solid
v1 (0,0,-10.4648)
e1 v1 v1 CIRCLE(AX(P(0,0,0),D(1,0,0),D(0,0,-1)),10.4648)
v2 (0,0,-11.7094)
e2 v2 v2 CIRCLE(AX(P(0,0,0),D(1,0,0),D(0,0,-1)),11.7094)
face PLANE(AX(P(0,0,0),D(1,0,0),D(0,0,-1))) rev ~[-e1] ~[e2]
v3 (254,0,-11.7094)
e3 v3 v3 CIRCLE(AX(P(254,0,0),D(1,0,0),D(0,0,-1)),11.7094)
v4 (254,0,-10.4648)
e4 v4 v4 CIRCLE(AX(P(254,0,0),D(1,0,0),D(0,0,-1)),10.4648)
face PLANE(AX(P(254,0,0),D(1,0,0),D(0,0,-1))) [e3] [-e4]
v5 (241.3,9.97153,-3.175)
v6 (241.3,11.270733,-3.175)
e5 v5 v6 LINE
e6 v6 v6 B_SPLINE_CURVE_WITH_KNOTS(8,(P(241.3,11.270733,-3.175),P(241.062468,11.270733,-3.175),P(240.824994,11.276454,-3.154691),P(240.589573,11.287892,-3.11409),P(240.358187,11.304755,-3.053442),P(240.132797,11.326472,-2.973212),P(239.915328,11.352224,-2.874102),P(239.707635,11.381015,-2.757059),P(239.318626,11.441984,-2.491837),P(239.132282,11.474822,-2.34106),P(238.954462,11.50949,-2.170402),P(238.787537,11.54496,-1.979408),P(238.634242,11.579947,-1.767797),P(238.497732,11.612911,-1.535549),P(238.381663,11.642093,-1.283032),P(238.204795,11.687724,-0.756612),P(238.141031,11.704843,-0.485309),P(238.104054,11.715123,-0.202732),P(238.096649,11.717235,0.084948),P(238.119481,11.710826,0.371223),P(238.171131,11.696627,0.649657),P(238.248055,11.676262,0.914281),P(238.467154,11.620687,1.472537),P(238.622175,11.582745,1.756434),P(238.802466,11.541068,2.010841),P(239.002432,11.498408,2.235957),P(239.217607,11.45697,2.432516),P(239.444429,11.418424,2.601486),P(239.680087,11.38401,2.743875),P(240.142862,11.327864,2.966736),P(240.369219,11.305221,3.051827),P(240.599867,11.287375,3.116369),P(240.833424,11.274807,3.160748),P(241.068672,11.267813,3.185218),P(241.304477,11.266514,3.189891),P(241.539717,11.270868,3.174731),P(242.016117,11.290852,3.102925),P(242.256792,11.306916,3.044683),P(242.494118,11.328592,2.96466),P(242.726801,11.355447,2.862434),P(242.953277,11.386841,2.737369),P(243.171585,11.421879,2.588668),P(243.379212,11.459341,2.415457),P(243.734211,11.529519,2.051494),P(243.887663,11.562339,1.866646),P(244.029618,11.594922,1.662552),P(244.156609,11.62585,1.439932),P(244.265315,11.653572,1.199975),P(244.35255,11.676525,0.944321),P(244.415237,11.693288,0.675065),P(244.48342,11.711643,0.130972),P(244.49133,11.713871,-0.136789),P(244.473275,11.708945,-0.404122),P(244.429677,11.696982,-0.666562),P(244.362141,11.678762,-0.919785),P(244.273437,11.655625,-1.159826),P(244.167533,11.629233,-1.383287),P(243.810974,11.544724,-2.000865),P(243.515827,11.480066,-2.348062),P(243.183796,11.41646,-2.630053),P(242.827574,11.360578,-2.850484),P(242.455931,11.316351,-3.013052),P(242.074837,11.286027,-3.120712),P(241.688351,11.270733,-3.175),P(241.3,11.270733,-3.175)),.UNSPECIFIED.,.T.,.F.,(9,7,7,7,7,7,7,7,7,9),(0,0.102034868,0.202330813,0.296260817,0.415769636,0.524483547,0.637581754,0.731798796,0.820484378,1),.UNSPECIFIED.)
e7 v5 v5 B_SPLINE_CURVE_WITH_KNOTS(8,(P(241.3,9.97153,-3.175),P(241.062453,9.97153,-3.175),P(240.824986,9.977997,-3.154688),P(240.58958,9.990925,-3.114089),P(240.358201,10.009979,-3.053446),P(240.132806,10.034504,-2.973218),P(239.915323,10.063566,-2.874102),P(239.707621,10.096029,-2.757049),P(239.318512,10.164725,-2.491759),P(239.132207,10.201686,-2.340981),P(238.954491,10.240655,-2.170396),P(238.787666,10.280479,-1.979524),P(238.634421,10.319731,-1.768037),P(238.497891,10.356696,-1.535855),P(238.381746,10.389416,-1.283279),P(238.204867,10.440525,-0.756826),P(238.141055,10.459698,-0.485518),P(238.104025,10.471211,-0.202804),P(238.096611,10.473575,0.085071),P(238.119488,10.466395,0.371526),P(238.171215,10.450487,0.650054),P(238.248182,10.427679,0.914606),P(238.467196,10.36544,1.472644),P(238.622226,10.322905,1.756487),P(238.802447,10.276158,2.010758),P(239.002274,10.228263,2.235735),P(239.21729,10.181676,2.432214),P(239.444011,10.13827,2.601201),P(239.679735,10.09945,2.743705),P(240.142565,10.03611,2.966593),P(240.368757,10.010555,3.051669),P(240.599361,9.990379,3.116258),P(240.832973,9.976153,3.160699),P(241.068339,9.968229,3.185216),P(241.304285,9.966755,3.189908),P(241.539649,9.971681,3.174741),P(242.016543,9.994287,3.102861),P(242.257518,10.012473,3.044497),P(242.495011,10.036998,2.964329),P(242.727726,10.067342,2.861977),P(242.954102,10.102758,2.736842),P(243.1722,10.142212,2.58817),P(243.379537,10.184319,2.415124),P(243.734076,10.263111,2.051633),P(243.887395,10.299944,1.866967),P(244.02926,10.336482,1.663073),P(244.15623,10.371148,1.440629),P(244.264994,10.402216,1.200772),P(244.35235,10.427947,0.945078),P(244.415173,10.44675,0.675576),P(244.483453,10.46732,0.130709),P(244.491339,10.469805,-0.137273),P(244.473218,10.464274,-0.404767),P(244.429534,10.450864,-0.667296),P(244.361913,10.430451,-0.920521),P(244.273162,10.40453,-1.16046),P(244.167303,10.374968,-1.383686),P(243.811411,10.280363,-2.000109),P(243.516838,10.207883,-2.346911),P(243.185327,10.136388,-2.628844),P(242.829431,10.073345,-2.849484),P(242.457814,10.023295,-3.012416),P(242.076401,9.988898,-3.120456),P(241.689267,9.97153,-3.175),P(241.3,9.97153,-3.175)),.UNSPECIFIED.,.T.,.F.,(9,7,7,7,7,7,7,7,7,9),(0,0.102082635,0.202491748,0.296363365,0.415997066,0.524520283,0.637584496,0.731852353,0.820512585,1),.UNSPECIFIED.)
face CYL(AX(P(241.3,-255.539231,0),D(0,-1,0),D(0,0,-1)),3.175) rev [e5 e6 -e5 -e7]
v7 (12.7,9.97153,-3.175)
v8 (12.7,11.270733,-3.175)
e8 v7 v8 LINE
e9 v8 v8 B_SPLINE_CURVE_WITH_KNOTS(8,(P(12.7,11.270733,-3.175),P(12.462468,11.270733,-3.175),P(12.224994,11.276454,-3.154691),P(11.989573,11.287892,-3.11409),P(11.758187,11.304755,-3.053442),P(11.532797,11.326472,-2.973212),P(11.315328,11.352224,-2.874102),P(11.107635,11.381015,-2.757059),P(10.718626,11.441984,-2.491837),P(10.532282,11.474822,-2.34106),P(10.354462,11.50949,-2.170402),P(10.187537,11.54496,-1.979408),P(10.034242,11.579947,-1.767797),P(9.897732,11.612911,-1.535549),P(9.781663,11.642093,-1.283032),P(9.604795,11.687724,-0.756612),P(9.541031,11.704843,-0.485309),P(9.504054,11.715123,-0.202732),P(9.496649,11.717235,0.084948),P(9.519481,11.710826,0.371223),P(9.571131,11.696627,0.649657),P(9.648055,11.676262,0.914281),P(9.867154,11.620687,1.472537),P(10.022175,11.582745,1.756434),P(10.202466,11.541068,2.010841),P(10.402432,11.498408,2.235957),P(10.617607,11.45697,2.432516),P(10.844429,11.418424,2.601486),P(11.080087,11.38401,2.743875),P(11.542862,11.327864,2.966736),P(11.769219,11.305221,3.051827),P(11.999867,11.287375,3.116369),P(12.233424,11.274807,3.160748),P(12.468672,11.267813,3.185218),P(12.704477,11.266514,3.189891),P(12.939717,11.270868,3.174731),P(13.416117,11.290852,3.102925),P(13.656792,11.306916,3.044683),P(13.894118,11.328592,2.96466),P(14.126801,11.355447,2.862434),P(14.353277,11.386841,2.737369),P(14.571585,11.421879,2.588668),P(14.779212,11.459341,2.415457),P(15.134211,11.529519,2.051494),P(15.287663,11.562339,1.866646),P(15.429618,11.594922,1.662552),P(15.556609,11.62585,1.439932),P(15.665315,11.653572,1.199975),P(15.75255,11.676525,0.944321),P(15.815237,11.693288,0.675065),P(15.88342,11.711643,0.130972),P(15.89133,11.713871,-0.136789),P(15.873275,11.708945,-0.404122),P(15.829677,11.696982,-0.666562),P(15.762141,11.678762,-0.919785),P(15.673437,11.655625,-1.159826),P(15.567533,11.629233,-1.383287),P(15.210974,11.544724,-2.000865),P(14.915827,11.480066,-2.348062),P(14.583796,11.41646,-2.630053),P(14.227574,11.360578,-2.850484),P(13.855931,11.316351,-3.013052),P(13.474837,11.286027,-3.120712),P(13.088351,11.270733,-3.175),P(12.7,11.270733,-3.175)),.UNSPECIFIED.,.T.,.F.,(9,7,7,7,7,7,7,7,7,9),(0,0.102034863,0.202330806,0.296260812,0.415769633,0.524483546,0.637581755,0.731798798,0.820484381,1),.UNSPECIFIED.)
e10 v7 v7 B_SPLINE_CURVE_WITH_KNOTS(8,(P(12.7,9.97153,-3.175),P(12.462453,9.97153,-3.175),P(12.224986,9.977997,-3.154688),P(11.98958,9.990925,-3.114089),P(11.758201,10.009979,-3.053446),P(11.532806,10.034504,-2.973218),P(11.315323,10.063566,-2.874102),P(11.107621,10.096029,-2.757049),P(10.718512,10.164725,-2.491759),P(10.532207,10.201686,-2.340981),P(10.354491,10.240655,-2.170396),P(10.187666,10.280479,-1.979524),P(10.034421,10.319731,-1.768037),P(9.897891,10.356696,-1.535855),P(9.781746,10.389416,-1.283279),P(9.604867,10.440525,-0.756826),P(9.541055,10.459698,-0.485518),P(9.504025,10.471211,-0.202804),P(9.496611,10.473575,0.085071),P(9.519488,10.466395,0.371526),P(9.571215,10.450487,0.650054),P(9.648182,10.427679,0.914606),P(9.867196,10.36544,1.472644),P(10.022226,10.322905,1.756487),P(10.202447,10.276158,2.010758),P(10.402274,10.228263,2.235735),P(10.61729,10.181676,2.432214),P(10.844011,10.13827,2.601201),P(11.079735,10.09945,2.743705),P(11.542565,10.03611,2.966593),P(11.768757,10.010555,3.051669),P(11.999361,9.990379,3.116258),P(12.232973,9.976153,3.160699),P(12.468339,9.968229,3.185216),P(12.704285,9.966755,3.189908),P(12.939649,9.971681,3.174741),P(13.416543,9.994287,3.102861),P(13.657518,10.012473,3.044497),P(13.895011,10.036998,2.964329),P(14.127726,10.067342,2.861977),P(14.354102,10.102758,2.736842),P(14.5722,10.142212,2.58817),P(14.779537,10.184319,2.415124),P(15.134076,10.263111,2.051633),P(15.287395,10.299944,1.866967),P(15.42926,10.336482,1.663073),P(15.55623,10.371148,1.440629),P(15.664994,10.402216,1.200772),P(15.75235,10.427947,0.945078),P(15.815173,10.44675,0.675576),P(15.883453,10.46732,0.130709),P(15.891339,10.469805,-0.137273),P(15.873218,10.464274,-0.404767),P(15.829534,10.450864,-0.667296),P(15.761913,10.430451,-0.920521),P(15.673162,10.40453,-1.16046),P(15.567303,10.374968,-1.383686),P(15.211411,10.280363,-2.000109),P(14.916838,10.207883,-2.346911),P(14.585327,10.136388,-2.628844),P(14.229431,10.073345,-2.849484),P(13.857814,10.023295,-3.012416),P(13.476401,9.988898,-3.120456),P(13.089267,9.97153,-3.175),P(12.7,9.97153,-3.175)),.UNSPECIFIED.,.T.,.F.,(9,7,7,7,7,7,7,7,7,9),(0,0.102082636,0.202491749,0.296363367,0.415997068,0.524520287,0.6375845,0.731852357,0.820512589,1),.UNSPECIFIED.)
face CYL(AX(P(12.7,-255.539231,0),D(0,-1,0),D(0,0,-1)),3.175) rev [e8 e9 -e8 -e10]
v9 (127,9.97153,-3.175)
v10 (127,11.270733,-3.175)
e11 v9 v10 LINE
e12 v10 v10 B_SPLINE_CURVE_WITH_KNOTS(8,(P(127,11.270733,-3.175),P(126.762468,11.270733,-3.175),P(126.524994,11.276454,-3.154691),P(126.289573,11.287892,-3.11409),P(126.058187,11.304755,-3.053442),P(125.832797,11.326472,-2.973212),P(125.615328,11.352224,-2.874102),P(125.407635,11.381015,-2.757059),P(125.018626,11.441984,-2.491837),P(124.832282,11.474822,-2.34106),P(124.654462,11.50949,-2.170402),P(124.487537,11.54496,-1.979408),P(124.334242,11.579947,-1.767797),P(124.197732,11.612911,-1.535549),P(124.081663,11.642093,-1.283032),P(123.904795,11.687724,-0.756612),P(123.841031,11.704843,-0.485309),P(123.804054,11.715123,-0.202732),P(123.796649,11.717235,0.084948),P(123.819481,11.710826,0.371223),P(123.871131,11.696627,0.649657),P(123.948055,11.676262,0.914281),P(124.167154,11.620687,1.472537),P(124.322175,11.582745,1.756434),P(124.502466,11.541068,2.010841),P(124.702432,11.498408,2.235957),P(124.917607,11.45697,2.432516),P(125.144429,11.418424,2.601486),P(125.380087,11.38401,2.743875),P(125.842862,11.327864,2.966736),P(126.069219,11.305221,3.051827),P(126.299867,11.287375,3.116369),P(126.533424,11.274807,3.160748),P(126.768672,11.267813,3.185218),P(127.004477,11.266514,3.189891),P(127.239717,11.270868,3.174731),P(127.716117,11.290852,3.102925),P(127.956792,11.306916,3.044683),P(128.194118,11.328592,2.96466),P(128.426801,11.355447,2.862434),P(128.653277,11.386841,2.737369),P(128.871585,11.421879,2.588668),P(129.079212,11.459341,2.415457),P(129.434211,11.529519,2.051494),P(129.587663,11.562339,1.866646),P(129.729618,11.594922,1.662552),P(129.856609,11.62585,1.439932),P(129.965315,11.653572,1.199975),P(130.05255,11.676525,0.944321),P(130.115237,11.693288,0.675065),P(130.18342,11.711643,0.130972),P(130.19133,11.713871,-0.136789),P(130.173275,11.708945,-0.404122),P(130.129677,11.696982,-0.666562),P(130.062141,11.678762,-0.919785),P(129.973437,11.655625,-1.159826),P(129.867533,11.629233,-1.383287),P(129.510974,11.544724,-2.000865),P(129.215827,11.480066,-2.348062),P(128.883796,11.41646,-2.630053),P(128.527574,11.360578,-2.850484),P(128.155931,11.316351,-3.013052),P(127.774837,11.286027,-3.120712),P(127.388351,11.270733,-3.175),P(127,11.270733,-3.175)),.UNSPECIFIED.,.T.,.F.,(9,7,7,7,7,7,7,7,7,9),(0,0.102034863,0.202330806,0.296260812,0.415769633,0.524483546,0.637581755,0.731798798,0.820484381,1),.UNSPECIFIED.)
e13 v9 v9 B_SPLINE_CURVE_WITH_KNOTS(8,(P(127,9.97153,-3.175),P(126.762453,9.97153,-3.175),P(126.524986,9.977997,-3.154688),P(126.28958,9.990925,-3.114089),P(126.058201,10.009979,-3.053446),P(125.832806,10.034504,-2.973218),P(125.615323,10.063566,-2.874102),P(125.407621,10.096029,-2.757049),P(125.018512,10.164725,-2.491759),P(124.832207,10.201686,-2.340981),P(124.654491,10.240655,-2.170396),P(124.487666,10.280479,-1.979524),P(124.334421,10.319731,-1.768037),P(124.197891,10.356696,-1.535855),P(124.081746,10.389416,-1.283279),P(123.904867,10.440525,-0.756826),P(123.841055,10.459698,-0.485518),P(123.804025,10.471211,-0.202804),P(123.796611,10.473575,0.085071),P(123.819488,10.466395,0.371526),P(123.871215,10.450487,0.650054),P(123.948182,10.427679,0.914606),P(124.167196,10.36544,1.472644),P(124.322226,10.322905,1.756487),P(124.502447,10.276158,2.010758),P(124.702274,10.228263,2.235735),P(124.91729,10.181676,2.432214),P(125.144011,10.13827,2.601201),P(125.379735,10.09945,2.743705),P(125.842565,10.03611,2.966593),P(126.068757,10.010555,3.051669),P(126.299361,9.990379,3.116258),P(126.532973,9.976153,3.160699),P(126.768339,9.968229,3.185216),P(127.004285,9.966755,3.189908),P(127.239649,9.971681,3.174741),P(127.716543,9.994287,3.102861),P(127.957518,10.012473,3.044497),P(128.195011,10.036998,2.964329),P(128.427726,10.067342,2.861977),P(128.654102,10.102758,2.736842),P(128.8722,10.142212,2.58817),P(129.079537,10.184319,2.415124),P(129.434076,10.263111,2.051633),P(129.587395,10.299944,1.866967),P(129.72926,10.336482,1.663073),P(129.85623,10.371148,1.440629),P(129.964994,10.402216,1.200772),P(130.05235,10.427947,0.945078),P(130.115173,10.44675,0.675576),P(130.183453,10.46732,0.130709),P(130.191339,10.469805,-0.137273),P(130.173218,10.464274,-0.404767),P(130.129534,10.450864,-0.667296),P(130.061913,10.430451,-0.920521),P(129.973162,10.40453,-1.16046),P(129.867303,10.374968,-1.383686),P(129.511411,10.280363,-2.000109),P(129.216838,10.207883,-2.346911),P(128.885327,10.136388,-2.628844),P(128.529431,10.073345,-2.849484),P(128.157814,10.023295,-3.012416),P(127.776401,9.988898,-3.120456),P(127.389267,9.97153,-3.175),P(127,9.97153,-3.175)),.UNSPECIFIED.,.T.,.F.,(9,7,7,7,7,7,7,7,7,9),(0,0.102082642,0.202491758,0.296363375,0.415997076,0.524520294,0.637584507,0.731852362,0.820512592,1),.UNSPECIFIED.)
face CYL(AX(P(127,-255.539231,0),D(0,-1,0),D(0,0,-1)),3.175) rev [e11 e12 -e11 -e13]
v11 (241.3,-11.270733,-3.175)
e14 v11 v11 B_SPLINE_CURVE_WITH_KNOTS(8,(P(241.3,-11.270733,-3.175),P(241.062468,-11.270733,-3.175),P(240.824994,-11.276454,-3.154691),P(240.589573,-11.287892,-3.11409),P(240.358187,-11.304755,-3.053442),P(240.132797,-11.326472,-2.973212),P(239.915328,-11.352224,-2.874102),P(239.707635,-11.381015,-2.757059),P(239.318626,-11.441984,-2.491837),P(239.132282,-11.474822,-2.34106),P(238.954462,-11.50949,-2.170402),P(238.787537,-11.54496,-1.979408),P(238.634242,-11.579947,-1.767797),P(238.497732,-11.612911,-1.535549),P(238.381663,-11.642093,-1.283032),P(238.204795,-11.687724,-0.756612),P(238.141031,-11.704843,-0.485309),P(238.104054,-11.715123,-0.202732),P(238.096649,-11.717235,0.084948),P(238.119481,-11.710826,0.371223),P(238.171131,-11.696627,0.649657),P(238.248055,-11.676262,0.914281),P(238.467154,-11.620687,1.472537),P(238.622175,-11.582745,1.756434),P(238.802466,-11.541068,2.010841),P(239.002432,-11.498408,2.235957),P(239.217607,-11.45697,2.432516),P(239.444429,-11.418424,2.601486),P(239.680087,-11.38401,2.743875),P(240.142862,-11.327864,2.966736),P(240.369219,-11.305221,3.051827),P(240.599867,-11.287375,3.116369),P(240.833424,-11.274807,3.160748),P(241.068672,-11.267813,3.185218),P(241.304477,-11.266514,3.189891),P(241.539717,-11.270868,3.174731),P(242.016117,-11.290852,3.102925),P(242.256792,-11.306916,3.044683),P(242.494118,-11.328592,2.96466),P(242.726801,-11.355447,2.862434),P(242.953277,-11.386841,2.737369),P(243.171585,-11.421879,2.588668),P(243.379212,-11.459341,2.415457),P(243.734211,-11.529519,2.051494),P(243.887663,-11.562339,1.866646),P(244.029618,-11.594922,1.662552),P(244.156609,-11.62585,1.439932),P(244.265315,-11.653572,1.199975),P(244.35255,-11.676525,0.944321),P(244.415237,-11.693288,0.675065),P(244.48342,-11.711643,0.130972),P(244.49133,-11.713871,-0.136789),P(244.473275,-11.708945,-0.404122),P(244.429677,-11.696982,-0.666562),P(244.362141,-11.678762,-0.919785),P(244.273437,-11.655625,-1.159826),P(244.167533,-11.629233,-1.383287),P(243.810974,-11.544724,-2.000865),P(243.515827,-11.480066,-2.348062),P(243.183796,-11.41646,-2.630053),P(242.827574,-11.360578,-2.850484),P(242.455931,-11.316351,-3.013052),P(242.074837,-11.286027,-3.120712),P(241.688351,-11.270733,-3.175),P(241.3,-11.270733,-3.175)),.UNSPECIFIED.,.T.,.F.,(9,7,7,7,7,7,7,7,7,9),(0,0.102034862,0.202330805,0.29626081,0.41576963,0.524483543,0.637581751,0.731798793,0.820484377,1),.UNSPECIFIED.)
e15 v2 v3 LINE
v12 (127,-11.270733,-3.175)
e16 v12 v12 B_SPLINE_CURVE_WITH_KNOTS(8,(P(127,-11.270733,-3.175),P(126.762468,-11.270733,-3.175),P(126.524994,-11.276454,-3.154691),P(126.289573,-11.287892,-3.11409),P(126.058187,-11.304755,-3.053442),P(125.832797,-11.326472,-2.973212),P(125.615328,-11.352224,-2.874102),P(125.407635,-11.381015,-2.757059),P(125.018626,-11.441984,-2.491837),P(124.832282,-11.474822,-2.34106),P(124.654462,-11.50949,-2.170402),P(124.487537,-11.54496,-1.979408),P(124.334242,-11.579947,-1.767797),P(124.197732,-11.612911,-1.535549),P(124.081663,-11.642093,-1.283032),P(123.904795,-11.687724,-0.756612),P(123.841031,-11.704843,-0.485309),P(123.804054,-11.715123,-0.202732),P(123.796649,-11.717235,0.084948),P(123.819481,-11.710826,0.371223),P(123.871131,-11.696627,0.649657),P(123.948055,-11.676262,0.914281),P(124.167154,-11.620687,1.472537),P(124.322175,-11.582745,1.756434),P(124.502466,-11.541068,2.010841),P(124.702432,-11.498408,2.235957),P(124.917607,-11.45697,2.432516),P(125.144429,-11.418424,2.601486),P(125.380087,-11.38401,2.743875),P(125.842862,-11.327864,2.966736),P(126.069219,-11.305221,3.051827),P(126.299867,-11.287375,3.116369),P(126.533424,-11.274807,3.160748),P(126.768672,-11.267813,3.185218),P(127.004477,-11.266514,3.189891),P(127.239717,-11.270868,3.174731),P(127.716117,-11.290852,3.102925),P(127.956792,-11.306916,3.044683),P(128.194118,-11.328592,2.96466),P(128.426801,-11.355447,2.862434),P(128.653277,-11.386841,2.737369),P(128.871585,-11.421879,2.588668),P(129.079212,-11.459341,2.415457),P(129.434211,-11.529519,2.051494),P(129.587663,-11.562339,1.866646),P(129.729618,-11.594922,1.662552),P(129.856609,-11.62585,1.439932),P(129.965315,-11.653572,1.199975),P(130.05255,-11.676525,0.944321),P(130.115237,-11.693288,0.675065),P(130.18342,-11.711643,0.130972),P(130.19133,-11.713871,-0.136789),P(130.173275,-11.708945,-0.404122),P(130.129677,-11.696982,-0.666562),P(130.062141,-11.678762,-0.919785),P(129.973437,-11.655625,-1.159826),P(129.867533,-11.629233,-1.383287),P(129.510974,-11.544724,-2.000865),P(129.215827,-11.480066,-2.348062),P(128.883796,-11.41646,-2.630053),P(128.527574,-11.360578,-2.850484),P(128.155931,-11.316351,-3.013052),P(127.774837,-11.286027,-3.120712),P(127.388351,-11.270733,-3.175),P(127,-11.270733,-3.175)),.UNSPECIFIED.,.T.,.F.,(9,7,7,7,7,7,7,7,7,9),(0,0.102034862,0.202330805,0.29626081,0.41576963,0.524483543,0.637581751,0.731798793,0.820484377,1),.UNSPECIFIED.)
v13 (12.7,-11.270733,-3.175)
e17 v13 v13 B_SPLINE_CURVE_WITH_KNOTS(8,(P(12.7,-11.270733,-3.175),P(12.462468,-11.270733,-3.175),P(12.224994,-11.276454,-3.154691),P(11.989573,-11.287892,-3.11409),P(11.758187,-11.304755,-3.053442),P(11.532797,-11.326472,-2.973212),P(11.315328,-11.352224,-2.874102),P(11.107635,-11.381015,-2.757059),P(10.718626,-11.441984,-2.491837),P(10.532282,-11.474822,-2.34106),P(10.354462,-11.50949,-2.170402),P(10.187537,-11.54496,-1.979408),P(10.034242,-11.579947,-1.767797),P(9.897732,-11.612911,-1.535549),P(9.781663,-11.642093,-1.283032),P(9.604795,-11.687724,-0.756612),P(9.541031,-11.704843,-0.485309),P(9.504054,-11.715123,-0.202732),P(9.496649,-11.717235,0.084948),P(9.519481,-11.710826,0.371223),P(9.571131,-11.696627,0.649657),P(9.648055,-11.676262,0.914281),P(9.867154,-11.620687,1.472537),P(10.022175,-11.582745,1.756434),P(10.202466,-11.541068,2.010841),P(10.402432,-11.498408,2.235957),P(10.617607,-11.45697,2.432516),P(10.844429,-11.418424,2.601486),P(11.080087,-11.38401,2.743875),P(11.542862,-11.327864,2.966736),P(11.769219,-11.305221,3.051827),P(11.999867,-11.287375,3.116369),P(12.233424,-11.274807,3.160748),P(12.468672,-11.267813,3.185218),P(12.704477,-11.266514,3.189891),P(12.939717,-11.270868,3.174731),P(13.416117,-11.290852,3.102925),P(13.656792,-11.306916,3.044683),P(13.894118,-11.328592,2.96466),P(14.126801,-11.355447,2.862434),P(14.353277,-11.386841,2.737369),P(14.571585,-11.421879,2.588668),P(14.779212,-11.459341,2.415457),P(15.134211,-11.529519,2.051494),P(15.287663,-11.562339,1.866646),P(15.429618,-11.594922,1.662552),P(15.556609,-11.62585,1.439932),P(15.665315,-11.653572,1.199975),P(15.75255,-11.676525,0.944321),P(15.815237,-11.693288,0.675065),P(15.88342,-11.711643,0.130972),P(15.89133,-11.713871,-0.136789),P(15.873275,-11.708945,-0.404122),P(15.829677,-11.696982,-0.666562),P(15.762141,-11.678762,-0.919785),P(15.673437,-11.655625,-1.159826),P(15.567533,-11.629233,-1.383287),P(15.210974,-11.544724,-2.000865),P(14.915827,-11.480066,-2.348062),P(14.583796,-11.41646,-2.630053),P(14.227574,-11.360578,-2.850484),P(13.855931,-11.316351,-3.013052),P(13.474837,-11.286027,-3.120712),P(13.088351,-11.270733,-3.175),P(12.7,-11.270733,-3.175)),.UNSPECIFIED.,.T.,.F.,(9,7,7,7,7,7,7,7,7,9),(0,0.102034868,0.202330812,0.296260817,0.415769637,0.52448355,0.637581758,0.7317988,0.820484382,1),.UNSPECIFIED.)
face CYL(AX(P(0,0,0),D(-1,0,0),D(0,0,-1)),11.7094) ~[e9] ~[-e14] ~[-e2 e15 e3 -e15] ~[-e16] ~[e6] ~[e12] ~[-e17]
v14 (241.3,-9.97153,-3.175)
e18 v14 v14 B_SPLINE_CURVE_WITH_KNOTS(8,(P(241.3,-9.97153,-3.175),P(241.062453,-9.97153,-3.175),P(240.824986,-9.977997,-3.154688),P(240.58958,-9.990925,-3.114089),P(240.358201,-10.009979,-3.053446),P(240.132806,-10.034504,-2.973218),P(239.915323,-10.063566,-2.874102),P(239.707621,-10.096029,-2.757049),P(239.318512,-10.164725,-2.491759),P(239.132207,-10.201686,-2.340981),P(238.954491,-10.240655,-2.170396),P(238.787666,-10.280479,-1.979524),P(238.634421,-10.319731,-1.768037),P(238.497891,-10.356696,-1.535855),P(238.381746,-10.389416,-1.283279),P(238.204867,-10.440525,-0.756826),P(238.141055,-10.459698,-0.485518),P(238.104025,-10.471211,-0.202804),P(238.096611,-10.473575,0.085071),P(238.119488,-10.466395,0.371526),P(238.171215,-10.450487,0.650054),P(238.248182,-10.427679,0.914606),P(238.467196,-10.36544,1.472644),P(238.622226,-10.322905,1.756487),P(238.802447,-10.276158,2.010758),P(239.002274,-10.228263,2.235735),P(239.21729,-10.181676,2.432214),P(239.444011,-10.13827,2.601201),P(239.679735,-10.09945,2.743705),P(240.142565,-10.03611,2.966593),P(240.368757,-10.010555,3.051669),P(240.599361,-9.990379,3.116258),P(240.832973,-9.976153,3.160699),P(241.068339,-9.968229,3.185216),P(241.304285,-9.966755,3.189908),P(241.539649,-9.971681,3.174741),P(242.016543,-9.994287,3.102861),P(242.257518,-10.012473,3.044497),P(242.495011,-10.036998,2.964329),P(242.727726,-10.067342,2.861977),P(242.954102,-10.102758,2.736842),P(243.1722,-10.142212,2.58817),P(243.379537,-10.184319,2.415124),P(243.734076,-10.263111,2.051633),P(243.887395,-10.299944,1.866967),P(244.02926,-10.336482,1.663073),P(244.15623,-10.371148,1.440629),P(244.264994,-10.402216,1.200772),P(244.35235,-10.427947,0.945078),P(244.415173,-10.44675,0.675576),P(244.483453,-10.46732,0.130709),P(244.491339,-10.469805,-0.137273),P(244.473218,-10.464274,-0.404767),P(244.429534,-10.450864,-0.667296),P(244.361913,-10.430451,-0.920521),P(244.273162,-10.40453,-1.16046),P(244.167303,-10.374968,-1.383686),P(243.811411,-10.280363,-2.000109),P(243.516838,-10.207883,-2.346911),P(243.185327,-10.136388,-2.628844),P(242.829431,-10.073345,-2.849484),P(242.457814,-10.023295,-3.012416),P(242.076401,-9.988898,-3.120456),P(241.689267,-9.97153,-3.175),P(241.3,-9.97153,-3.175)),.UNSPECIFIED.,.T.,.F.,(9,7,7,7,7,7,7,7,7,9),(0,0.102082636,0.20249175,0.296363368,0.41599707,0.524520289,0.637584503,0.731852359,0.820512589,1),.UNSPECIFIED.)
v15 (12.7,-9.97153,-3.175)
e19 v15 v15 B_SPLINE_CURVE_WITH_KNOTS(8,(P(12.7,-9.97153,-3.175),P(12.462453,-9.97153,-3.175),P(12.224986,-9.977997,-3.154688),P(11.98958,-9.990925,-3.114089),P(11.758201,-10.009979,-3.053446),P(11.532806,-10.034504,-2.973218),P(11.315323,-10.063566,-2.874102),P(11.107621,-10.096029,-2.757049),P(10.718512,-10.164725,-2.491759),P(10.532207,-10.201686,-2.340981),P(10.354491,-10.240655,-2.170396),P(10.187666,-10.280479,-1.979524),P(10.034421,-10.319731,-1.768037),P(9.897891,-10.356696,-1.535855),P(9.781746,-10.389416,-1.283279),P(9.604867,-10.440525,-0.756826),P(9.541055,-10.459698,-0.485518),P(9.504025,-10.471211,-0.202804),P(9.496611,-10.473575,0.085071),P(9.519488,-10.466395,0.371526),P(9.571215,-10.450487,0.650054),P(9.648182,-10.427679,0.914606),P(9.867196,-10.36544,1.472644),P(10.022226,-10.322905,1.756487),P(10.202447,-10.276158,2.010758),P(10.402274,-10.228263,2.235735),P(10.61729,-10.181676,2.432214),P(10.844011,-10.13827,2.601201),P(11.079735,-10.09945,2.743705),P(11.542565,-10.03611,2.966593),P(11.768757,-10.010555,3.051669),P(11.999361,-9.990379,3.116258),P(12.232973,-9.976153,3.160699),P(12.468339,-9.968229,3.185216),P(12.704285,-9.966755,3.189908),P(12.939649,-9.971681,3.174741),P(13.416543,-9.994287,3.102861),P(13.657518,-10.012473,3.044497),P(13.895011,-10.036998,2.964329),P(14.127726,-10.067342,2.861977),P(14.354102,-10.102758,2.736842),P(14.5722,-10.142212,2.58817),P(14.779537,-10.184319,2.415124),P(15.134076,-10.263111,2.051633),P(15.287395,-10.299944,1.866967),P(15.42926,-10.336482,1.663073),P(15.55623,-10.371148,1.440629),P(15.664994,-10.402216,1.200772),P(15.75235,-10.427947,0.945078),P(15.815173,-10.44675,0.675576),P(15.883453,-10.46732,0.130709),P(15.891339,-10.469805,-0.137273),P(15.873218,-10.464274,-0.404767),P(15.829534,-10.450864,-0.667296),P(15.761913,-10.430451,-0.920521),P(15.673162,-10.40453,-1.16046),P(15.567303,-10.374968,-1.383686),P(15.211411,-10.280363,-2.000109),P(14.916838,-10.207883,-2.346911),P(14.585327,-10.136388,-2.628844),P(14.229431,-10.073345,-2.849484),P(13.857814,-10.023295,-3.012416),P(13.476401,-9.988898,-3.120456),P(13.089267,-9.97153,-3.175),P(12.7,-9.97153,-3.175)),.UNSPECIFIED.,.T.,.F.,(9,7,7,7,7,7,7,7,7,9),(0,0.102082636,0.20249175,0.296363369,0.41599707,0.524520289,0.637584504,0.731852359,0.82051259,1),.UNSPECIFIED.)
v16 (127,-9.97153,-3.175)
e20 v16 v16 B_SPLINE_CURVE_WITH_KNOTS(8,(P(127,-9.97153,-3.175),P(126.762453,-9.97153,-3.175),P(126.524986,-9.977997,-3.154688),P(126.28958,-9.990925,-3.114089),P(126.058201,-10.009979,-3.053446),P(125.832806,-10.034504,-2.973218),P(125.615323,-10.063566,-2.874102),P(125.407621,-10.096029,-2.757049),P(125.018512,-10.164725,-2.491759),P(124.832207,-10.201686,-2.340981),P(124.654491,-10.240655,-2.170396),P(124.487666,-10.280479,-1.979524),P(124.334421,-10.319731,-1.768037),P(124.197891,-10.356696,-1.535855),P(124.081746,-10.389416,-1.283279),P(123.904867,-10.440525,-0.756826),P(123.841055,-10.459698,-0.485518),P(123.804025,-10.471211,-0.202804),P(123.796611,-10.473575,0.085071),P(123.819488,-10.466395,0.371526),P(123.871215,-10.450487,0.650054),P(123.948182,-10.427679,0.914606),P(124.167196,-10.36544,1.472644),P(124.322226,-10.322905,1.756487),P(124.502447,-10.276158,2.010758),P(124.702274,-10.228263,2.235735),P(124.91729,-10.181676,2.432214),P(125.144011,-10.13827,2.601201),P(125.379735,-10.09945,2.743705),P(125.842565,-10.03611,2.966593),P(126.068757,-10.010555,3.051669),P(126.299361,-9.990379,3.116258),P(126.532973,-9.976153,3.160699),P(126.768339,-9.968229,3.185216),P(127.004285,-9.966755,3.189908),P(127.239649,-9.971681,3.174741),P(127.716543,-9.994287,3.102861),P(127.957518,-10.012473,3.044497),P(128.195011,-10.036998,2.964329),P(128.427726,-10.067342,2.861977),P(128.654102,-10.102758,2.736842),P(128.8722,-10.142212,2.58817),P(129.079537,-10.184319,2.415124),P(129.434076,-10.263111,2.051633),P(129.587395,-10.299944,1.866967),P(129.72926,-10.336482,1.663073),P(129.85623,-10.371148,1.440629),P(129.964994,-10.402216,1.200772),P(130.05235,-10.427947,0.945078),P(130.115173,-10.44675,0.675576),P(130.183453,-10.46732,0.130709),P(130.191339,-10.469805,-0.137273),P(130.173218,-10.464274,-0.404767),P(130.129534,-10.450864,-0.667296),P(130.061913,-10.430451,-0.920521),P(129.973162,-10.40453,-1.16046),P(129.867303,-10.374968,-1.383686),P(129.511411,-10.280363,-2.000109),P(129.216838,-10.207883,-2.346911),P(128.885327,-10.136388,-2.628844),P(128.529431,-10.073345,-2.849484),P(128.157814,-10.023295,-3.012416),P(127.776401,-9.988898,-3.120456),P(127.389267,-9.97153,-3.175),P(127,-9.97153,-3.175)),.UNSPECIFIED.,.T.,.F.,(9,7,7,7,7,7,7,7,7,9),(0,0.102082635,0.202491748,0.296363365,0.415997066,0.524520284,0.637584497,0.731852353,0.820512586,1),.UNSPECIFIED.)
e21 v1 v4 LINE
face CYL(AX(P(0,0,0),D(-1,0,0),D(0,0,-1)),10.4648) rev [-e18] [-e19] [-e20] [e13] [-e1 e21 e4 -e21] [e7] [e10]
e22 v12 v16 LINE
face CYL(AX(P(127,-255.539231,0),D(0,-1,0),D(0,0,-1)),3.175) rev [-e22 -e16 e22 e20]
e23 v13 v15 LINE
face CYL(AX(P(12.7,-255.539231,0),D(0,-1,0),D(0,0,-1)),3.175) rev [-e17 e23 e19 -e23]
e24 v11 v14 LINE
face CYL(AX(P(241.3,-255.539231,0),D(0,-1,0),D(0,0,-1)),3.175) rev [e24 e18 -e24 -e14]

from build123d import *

# Parameters (mm, degrees)
SKETCH3_R               = 11.7094
SKETCH3_R_2             = 10.4648
BOSS_EXTRUDE1_DEPTH     = 254
CUT_EXTRUDE1_DEPTH      = 255.539230958
CUT_EXTRUDE1_DEPTH_BACK = 255.539230958
SKETCH4_R               = 3.175


with BuildPart() as part:
    # Sketch3 → Boss-Extrude1 (new body)
    with BuildSketch(Plane(origin=(0, 0, 0), x_dir=(0, 0, -1), z_dir=(1, 0, 0))):
        Circle(SKETCH3_R)
        Circle(SKETCH3_R_2, mode=Mode.SUBTRACT)
    extrude(amount=BOSS_EXTRUDE1_DEPTH)

    # Sketch4 → Cut-Extrude1 (cut, two sides: drawn at the far end of the back side and taken through both)
    with BuildSketch(Plane(origin=(0, 0, 0), x_dir=(1, 0, 0), z_dir=(0, 1, 0)).offset(-CUT_EXTRUDE1_DEPTH_BACK)):
        with Locations(Location((127, 0, 0), (0, 0, 90))):
            Circle(SKETCH4_R)
        with Locations(Location((12.7, 0, 0), (0, 0, 90))):
            Circle(SKETCH4_R)
        with Locations(Location((241.3, 0, 0), (0, 0, 90))):
            Circle(SKETCH4_R)
    extrude(amount=CUT_EXTRUDE1_DEPTH + CUT_EXTRUDE1_DEPTH_BACK, mode=Mode.SUBTRACT)


solid = part.part
